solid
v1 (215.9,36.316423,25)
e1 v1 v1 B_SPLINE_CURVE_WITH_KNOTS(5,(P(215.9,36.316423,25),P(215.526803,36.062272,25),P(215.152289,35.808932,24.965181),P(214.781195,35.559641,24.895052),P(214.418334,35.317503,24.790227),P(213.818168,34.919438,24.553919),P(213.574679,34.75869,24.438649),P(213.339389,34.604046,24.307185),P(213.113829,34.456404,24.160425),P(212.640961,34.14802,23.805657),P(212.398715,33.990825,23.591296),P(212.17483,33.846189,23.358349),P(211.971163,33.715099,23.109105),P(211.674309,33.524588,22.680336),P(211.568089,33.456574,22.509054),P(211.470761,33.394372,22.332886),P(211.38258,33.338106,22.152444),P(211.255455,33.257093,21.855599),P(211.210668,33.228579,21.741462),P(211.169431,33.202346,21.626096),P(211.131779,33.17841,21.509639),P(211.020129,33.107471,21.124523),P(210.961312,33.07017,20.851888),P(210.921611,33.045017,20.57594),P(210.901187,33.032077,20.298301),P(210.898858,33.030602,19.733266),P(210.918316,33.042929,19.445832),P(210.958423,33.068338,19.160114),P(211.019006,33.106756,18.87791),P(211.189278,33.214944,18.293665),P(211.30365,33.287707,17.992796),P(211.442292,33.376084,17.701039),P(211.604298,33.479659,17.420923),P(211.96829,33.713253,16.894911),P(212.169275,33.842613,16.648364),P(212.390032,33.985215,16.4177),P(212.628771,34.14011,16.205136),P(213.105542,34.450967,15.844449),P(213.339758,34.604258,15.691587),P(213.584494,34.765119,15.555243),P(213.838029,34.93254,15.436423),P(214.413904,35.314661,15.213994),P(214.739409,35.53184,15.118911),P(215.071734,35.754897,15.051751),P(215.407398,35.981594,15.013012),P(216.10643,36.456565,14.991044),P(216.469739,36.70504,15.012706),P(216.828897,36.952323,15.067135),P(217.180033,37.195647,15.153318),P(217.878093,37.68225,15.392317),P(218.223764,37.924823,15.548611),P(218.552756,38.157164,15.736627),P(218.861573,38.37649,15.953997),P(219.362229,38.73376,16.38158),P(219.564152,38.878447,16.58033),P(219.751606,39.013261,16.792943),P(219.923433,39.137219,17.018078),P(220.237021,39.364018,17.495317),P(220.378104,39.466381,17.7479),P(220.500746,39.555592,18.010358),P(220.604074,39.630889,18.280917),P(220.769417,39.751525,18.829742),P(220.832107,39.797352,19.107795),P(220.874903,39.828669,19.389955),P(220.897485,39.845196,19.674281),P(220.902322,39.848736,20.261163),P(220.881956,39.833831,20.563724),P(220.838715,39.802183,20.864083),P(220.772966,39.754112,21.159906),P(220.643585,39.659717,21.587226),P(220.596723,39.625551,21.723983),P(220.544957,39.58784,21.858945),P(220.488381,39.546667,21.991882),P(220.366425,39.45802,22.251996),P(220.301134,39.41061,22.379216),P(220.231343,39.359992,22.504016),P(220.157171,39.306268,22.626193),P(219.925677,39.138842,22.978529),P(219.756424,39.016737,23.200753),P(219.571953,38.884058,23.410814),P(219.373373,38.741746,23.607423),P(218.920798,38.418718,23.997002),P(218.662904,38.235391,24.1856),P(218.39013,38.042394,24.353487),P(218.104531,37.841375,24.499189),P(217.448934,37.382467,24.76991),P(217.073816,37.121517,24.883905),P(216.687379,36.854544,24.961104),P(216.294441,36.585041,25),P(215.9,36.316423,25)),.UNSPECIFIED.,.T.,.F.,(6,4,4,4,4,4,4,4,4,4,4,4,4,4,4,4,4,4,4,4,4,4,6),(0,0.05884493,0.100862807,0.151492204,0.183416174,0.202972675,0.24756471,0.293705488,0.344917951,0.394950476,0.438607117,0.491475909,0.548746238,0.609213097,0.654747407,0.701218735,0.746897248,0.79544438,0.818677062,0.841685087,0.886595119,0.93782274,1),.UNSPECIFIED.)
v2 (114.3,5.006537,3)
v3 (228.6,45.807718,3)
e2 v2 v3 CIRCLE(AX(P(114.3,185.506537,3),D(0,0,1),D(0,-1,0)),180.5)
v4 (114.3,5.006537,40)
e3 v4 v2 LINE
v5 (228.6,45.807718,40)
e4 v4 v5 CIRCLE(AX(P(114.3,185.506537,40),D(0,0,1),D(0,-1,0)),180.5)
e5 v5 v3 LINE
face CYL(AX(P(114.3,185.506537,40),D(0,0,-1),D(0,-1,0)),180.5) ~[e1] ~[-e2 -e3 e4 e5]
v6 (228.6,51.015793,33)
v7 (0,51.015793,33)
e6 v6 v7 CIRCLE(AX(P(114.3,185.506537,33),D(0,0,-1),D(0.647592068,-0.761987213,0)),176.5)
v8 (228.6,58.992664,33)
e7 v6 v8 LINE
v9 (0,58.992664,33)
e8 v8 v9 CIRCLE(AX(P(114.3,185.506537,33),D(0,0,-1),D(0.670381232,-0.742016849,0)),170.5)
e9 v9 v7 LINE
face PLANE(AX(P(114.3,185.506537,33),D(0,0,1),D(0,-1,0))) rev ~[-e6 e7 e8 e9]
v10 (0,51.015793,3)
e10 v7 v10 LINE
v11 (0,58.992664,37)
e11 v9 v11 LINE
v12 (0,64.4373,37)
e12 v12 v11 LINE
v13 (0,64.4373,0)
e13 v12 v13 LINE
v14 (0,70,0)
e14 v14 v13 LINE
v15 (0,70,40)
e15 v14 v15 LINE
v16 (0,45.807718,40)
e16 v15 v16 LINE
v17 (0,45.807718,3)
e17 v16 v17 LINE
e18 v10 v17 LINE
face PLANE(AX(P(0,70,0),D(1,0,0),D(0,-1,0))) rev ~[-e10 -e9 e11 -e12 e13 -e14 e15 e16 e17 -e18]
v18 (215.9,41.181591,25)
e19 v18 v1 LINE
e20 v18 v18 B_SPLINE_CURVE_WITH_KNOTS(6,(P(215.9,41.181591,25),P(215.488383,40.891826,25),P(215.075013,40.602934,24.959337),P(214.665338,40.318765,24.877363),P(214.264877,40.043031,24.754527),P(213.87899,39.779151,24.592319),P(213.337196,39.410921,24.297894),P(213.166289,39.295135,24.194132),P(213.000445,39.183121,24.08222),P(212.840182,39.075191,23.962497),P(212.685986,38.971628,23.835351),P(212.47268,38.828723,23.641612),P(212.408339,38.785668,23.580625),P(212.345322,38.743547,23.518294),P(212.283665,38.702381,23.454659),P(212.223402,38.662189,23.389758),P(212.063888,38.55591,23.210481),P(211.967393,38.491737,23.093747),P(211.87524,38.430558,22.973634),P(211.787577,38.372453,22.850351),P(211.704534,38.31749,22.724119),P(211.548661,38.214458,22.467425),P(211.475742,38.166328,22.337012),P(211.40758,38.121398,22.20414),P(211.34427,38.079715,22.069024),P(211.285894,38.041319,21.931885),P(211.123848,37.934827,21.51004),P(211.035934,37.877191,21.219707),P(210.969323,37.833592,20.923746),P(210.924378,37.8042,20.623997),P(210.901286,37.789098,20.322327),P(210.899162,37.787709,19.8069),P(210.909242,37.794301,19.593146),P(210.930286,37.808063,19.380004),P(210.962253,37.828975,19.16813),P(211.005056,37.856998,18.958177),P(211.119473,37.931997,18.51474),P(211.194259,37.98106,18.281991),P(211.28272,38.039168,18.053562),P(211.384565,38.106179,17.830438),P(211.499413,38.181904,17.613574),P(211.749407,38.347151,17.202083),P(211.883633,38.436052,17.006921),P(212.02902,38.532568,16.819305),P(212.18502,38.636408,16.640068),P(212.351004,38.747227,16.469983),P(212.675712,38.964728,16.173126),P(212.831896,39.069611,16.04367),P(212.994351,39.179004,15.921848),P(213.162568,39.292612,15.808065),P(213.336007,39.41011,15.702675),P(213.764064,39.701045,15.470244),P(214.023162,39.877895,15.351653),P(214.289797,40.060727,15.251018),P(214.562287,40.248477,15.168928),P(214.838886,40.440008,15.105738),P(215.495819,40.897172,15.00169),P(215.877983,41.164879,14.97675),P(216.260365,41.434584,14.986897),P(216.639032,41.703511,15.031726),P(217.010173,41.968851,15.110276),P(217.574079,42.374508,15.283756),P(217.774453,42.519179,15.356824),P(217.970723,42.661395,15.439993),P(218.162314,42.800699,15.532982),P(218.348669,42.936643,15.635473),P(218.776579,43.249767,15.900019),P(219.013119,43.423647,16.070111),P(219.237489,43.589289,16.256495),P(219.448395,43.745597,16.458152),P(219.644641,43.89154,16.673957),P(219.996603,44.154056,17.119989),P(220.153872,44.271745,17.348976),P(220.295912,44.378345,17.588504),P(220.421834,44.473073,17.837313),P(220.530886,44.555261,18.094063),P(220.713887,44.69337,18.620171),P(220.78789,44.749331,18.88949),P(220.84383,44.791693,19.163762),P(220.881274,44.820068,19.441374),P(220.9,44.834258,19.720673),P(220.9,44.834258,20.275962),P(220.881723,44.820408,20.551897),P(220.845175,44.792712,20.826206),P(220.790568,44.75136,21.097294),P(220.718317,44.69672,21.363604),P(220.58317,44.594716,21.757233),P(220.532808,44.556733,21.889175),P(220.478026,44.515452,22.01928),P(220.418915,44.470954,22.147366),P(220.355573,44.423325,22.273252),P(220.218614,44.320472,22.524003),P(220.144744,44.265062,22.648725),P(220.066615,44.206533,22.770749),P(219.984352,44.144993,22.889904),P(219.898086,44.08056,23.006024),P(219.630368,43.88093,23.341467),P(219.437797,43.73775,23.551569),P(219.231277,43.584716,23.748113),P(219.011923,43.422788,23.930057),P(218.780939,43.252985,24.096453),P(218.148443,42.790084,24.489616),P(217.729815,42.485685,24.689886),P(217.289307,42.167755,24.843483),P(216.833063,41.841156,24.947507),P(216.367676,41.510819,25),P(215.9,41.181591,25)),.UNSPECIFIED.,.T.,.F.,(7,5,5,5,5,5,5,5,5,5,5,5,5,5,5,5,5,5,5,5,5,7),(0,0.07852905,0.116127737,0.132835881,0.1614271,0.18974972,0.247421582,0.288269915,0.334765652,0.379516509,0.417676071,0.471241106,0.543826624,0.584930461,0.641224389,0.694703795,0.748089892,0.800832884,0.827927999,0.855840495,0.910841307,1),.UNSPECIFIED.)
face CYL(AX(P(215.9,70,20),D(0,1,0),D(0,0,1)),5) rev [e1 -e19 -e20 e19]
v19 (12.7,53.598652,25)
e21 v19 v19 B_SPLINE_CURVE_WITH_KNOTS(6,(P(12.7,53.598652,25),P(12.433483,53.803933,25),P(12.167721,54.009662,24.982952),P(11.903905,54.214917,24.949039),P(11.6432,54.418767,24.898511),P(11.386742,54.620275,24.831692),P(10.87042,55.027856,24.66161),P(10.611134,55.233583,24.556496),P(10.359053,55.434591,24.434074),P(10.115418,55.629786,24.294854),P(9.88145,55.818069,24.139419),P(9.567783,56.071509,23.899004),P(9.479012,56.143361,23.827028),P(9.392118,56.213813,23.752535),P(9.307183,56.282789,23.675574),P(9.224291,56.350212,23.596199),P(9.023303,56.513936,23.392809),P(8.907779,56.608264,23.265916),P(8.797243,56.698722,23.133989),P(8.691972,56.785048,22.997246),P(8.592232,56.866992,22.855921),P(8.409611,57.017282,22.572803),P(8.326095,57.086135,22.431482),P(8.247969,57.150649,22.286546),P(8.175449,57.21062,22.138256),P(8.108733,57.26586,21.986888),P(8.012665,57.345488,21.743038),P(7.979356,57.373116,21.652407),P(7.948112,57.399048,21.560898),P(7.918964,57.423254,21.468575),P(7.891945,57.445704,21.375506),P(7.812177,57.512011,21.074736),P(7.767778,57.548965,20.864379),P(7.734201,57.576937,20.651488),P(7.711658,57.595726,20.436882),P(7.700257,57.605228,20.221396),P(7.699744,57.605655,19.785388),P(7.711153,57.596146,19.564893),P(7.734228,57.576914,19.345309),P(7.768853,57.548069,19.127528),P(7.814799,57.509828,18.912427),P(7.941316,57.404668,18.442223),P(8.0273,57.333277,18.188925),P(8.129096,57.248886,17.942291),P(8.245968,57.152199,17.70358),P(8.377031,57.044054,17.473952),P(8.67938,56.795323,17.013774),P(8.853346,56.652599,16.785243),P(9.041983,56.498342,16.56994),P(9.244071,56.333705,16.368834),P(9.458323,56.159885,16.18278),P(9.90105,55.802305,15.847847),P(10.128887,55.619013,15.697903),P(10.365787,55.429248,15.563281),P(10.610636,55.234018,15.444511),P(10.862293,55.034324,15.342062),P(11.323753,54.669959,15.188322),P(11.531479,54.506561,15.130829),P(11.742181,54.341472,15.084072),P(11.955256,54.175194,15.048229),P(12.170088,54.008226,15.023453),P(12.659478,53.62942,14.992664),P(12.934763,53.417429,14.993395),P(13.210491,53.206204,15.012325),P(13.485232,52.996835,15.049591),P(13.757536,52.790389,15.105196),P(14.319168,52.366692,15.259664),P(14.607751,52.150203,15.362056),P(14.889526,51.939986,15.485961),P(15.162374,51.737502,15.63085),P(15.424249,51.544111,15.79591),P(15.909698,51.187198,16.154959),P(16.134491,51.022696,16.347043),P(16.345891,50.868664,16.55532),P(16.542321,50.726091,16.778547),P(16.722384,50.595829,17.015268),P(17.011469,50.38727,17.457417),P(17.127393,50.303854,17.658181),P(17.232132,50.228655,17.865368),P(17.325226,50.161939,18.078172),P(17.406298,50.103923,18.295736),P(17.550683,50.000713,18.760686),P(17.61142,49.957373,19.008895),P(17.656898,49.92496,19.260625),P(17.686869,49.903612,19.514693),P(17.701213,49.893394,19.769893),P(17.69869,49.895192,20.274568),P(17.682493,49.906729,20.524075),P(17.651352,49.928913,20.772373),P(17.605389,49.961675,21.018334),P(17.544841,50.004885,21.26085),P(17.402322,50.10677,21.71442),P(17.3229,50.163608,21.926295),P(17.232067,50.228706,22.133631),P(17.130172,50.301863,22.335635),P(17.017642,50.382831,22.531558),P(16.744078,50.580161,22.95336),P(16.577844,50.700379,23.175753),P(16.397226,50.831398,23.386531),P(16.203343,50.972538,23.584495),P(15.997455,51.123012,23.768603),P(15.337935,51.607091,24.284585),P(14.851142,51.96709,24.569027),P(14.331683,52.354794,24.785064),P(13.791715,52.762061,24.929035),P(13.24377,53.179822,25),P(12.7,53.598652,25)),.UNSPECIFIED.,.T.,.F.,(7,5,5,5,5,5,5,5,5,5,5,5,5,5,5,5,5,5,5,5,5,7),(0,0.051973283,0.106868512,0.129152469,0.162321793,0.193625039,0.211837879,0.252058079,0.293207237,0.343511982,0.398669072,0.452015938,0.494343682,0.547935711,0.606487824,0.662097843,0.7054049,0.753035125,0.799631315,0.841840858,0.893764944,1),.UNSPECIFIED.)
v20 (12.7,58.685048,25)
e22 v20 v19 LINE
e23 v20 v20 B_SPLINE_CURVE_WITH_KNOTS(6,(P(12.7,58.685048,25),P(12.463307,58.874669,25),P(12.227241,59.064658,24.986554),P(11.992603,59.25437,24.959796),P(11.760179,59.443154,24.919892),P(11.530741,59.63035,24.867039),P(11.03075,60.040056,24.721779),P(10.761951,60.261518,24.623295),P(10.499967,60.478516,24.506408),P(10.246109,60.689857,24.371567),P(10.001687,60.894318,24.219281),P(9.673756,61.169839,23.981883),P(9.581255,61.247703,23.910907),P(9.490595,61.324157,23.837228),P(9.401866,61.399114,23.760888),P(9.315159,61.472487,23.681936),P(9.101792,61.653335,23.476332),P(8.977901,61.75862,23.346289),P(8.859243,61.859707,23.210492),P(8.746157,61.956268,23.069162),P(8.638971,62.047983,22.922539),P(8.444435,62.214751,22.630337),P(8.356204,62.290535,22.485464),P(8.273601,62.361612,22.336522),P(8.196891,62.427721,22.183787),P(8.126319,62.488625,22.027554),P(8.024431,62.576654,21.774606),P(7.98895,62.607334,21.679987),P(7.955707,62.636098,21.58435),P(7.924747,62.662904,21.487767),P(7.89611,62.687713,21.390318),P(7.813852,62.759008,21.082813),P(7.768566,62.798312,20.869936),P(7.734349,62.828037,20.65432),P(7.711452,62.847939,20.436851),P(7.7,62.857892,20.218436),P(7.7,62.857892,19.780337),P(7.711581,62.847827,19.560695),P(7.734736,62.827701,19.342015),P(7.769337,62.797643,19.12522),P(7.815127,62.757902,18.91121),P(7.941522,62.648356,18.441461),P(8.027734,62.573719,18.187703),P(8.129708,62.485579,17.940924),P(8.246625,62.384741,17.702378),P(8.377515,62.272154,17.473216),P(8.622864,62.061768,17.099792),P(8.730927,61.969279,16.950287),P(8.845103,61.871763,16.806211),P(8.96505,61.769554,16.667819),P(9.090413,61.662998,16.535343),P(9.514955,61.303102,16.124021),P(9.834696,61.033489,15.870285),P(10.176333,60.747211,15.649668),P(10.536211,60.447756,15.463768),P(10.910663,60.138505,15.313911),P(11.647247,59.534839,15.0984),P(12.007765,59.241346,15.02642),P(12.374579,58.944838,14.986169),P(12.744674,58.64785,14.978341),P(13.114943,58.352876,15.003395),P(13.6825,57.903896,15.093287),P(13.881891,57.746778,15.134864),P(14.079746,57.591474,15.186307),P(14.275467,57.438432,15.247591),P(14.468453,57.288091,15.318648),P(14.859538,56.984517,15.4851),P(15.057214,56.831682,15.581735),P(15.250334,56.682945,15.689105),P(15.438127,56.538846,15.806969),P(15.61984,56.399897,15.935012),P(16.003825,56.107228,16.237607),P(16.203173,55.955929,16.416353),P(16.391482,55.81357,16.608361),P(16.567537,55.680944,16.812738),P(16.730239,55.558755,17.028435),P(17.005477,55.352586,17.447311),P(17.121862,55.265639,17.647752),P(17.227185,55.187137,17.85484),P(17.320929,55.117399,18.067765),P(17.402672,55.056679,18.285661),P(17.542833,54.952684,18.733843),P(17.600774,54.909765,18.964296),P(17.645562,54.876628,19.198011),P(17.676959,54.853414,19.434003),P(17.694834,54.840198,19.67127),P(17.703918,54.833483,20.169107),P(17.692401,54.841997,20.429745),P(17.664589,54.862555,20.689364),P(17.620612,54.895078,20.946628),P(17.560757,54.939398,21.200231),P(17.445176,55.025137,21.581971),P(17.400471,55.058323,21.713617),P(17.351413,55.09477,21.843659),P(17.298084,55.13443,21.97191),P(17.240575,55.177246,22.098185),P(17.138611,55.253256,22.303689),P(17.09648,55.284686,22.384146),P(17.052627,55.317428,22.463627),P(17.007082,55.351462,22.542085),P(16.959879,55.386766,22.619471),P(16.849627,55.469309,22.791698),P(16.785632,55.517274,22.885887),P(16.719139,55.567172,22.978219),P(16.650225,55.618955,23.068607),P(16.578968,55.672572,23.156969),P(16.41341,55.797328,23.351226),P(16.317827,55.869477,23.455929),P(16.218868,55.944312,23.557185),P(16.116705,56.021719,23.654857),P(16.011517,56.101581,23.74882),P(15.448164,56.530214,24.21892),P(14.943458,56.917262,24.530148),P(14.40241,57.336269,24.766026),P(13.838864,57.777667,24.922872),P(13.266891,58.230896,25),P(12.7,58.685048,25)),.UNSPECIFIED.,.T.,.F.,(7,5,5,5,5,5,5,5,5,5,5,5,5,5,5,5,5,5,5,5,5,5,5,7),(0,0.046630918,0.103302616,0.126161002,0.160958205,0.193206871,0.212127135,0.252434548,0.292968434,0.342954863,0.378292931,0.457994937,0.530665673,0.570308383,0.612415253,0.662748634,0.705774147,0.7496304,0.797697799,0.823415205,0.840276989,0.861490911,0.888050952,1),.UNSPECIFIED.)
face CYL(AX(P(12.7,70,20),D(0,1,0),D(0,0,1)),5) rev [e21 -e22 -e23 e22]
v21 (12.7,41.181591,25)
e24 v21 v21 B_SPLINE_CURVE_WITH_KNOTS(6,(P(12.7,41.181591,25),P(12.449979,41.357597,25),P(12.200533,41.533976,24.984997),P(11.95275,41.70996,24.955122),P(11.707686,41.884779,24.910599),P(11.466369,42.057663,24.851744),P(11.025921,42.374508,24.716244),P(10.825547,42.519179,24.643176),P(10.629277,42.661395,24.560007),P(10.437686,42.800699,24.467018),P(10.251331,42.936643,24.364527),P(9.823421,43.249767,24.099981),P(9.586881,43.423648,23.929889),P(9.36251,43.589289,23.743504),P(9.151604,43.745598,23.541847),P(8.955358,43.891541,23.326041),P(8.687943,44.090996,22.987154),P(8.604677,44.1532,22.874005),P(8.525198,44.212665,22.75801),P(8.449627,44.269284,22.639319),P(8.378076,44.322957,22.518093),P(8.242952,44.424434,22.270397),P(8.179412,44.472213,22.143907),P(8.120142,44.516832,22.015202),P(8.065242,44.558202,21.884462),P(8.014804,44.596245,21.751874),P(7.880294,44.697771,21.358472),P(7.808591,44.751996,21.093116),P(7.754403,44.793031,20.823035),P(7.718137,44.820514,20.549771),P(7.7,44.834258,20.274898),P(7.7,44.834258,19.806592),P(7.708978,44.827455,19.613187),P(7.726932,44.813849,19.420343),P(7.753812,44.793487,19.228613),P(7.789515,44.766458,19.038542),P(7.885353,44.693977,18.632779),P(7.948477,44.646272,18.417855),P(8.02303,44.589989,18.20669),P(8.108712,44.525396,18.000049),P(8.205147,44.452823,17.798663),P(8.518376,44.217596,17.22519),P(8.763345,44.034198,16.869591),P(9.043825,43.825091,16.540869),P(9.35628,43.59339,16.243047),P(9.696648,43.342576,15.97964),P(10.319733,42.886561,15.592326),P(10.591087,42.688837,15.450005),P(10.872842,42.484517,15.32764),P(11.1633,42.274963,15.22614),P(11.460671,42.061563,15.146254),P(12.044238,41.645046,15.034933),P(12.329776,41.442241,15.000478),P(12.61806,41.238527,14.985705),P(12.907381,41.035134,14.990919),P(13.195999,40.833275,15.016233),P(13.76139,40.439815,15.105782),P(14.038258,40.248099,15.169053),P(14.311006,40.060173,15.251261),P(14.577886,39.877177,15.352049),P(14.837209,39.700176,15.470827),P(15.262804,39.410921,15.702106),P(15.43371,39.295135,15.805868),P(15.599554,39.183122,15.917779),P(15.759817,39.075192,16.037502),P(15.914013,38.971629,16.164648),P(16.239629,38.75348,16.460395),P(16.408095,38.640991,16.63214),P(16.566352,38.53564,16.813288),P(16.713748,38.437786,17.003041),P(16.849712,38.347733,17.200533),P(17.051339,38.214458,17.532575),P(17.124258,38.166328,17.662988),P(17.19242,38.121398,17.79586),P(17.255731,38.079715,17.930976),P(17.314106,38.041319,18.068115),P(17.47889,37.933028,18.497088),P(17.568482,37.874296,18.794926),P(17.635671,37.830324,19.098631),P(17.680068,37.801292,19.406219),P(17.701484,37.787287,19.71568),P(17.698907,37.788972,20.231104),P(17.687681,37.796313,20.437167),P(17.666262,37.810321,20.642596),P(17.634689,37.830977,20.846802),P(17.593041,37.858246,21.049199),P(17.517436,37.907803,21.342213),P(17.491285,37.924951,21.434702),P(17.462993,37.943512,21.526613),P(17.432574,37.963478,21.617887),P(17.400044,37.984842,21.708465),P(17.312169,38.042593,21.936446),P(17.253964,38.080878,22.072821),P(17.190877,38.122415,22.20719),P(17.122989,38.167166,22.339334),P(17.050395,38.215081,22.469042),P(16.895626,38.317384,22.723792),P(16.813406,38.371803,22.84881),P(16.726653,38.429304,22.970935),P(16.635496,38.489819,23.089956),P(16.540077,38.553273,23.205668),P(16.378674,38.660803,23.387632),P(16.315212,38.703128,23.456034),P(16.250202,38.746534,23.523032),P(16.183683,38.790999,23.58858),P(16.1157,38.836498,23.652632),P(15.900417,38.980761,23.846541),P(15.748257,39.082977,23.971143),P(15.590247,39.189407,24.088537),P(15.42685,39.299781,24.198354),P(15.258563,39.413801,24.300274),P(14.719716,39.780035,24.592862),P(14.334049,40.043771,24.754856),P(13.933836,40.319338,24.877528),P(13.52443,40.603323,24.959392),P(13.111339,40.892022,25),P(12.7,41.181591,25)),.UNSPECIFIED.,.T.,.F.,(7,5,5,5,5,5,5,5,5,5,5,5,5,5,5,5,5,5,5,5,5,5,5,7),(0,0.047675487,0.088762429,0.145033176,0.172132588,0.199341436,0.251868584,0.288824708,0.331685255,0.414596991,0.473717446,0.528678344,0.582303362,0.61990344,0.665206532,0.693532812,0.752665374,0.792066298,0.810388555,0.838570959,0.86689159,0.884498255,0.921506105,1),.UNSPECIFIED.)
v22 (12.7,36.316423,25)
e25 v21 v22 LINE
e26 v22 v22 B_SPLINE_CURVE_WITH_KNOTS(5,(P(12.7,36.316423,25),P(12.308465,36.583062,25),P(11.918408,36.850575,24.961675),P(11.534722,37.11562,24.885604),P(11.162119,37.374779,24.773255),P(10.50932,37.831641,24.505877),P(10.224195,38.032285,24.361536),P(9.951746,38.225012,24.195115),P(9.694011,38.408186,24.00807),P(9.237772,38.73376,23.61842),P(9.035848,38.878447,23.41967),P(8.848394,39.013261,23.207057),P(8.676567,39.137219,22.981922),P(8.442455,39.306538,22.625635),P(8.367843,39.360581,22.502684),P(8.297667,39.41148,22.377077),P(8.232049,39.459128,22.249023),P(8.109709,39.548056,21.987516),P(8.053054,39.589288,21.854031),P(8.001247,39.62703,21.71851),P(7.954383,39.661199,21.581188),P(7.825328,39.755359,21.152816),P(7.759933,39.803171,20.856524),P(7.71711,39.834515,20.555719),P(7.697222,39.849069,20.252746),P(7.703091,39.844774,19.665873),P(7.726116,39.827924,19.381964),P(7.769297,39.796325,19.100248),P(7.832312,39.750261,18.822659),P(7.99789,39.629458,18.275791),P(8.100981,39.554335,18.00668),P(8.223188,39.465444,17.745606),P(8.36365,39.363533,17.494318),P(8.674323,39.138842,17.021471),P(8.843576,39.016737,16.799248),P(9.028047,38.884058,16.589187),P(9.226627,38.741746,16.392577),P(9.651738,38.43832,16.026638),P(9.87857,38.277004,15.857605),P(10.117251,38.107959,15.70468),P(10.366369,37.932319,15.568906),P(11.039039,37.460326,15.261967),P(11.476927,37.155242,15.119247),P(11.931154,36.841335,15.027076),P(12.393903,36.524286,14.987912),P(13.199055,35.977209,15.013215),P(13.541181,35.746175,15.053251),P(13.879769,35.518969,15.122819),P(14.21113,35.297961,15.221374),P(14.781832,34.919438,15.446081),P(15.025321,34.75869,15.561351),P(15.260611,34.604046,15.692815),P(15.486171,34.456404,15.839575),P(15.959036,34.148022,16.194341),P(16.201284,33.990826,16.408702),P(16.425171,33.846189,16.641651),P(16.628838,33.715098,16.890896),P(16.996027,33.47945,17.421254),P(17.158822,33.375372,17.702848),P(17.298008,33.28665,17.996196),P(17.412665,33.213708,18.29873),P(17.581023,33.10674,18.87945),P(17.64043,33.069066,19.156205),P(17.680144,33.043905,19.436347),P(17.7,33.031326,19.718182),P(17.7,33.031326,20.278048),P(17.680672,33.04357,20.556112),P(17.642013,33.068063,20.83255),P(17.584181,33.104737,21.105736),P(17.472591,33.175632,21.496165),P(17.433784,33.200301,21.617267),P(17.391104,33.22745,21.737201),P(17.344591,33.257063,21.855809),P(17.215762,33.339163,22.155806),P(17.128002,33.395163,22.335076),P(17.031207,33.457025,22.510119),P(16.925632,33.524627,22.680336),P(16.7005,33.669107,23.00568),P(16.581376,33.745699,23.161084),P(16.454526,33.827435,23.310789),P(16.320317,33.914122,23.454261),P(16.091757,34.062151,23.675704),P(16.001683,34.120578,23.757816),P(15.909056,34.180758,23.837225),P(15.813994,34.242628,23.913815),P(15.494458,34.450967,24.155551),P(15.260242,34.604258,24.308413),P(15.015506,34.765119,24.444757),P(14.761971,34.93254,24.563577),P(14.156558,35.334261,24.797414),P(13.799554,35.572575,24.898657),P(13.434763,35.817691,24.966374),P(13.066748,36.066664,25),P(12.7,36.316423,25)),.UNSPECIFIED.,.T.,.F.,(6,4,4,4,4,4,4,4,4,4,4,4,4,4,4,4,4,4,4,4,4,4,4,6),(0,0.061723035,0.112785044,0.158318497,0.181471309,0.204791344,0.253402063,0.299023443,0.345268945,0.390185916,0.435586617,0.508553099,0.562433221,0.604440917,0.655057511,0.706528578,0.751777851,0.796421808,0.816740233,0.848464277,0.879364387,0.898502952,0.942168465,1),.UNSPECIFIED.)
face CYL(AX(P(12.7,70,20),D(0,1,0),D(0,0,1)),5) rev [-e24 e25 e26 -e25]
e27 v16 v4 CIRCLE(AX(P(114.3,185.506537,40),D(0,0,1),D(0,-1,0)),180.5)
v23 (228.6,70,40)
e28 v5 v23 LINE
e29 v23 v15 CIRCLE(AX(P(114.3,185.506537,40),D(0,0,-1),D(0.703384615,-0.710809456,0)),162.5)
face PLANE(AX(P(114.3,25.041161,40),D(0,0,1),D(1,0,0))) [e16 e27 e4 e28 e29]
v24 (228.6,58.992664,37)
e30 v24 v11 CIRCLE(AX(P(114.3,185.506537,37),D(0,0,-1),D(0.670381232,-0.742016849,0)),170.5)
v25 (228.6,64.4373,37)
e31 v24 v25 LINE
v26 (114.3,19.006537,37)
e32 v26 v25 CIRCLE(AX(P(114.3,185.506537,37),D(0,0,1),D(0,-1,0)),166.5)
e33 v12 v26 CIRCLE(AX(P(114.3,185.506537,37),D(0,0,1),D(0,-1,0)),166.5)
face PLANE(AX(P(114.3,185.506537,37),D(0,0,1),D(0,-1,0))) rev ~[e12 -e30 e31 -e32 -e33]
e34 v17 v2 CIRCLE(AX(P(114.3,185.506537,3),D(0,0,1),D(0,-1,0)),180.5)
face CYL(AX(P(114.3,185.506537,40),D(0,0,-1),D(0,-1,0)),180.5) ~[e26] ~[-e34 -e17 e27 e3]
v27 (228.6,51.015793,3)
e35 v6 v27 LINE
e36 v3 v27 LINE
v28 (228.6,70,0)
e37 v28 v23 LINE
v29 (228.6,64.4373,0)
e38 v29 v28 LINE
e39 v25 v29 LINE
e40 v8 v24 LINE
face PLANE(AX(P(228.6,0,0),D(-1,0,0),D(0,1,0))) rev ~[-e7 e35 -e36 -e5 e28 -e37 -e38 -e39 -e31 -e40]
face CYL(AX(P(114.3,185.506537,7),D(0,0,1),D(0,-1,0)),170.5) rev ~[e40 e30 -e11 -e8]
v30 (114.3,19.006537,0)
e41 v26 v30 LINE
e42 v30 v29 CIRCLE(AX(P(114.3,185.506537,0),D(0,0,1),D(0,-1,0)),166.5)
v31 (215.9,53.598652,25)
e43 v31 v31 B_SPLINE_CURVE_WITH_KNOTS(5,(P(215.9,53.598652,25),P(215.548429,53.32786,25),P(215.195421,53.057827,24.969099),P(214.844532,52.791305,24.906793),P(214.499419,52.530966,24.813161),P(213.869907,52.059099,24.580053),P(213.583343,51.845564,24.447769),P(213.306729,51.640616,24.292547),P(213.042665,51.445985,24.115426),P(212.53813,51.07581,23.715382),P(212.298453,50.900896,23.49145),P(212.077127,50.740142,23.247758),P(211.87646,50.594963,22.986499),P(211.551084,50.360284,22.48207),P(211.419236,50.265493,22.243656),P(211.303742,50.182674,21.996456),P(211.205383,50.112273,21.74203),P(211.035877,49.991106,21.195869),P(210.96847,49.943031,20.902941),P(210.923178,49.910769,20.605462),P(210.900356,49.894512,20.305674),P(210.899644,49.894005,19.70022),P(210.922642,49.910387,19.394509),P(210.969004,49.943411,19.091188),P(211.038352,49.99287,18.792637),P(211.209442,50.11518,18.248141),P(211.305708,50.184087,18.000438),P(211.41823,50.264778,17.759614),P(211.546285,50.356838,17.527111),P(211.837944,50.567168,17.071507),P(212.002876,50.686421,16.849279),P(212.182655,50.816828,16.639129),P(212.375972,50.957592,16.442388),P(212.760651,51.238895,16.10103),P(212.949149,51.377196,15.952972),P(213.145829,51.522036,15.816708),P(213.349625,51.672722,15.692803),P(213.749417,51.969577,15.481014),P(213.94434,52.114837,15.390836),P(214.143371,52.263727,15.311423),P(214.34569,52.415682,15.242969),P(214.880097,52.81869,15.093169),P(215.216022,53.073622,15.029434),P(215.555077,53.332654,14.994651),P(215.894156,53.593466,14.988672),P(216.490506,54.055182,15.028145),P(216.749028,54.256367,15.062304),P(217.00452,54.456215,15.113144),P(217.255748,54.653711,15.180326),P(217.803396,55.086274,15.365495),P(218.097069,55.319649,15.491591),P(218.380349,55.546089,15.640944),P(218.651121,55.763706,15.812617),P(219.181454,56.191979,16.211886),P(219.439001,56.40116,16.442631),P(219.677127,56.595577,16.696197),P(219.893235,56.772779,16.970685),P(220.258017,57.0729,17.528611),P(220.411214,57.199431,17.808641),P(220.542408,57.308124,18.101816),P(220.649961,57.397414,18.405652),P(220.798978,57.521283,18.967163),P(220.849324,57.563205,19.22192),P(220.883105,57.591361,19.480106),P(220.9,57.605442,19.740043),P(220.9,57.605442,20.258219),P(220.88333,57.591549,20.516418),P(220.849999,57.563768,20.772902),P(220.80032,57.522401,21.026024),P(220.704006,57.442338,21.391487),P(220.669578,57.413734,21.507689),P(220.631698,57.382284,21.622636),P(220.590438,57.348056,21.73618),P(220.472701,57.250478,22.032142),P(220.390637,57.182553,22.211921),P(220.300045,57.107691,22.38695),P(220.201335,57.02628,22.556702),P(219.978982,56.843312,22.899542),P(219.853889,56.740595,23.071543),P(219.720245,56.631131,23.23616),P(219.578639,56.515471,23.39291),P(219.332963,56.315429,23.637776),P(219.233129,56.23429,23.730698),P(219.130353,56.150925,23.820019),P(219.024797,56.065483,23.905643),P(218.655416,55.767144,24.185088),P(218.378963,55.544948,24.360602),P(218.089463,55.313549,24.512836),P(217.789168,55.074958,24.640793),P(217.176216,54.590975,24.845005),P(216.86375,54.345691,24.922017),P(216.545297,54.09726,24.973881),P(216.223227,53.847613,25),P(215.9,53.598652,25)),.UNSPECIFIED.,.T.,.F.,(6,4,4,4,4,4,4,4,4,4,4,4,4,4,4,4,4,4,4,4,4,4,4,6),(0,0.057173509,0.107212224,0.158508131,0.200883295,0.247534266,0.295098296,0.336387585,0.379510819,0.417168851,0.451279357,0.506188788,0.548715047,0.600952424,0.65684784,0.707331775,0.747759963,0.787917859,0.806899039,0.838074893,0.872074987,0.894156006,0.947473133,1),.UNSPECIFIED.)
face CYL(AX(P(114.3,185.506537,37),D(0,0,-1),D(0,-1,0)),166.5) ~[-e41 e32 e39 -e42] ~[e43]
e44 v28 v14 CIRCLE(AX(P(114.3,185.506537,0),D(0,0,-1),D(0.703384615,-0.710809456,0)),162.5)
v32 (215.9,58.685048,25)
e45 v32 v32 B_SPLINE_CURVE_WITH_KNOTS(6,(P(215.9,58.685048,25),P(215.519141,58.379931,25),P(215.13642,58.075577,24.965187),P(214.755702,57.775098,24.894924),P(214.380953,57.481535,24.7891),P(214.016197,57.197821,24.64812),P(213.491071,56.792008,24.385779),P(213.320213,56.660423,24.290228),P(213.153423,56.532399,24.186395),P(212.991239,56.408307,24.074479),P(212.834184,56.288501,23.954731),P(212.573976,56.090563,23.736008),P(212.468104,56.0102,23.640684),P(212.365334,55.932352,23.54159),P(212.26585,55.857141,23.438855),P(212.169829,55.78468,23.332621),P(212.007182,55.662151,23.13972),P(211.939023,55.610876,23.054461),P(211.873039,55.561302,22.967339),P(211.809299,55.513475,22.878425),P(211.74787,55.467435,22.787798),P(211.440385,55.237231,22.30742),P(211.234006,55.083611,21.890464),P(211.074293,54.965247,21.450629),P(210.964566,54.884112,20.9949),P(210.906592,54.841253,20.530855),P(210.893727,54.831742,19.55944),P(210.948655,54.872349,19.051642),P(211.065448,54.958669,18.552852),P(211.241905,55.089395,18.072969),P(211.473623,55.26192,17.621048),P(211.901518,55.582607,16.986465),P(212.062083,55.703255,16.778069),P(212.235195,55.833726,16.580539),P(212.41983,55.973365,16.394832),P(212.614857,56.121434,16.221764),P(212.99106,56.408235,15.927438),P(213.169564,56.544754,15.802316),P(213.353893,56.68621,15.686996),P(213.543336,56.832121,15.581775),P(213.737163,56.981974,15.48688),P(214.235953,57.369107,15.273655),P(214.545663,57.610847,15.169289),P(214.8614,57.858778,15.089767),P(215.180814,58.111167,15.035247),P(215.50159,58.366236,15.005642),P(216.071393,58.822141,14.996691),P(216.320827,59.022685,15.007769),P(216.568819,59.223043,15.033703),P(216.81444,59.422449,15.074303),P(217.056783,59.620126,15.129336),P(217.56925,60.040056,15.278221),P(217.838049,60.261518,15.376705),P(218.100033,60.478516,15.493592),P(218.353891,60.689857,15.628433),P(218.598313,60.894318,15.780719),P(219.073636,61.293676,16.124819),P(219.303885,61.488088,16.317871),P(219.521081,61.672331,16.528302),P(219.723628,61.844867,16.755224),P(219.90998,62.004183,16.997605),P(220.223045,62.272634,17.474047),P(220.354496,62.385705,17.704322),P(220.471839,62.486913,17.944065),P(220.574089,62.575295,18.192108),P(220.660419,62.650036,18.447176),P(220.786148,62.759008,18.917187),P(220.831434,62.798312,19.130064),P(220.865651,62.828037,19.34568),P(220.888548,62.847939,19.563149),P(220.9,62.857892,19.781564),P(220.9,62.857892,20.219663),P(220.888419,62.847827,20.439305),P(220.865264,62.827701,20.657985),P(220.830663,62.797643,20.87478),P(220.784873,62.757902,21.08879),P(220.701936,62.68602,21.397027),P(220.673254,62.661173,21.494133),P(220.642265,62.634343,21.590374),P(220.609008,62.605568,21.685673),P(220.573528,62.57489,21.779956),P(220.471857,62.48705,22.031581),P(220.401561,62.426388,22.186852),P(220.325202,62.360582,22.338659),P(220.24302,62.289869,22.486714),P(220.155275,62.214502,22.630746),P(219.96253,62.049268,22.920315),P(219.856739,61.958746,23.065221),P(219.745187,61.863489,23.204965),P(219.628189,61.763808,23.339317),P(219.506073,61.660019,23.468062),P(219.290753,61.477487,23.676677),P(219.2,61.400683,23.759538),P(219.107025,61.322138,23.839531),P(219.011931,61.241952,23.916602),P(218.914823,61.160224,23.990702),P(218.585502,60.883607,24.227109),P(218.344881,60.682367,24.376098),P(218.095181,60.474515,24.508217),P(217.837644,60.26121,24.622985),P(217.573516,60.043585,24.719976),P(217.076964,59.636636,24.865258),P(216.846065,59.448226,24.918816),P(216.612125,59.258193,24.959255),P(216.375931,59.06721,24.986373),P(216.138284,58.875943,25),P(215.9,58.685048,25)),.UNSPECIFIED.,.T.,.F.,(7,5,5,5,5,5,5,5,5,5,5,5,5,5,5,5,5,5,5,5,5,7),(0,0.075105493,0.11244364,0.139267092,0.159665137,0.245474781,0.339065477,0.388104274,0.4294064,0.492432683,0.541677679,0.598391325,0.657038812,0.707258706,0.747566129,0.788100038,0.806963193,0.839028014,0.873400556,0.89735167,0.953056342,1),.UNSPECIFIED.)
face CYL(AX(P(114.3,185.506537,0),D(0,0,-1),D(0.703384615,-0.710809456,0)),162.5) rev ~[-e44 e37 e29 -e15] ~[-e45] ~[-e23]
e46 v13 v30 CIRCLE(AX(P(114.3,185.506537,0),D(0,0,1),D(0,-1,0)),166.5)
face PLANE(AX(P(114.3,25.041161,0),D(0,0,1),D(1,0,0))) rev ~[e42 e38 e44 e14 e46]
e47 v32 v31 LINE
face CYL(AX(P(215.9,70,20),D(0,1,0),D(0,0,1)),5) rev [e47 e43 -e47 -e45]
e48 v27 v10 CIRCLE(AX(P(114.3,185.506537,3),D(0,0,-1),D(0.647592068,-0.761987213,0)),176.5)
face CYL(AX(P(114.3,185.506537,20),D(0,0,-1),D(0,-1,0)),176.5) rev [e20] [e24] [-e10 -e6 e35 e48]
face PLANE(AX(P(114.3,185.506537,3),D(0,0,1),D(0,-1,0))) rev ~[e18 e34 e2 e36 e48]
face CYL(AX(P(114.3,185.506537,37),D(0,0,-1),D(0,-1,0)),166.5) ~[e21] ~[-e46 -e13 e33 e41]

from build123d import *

# Parameters (mm, degrees)
BOSS_EXTRUDE1_DEPTH     = 40
SKETCH2_W               = 26
SKETCH2_H               = 6
CUT_EXTRUDE1_DEPTH      = 243.400412541
CUT_EXTRUDE1_DEPTH_BACK = 243.400412541
SKETCH4_R               = 2.5
SKETCH7_R               = 5
CUT_EXTRUDE3_DEPTH      = 62


with BuildPart() as part:
    # Sketch1 → Boss-Extrude1 (new body)
    with BuildSketch(Plane.XY):
        with BuildLine():
            Line((0, 0), (228.6, 0))
            Line((228.6, 0), (228.6, 70))
            ThreePointArc((228.6, 70), (114.3, 23.006536612), (0, 70))
            Line((0, 70), (0, 0))
        make_face()
    extrude(amount=BOSS_EXTRUDE1_DEPTH)

    # Sketch2 → Cut-Revolve1 (revolve, cut)
    with BuildSketch(Plane(origin=(114.3, 0, 0), x_dir=(0, 0, -1), z_dir=(1, 0, 0))):
        with Locations((-20, 12.006536612)):
            Rectangle(SKETCH2_W, SKETCH2_H)
    revolve(axis=Axis((114.3, 185.506536612, 40), (0, 0, 1)), mode=Mode.SUBTRACT)

    # Sketch4 → Cut-Extrude1 (cut, two sides: drawn at the far end of the back side and taken through both)
    with BuildSketch(Plane.XZ.offset(-CUT_EXTRUDE1_DEPTH_BACK)):
        with Locations(Location((12.7, 20, 0), (0, 0, 270))):
            Circle(SKETCH4_R)
        with Locations(Location((215.9, 20, 0), (0, 0, 270))):
            Circle(SKETCH4_R)
    extrude(amount=CUT_EXTRUDE1_DEPTH + CUT_EXTRUDE1_DEPTH_BACK, mode=Mode.SUBTRACT)

    # Sketch7 → Cut-Extrude3 (cut)
    with BuildSketch(Plane(origin=(0, 70, 0), x_dir=(-1, 0, 0), z_dir=(0, -1, 0))):
        with Locations(Location((-215.9, -20, 0), (0, 0, 270))):
            Circle(SKETCH7_R)
        with Locations(Location((-12.7, -20, 0), (0, 0, 270))):
            Circle(SKETCH7_R)
    extrude(amount=CUT_EXTRUDE3_DEPTH, mode=Mode.SUBTRACT)

    # Sketch8 → Cut-Revolve4 (revolve, cut)
    with BuildSketch(Plane(origin=(114.3, 0, 0), x_dir=(0, 0, -1), z_dir=(1, 0, 0))):
        Polygon((-7, 15.006536612), (-37, 15.006536612), (-37, 19.006536612), (0, 19.006536612), (0, -48.777467523), (-40, -48.777467523), (-40, 5.006536612), (-3, 5.006536612), (-3, 9.006536612), (-7, 9.006536612), align=None)
    revolve(axis=Axis((114.3, 185.506536612, 40), (0, 0, 1)), mode=Mode.SUBTRACT)


solid = part.part
